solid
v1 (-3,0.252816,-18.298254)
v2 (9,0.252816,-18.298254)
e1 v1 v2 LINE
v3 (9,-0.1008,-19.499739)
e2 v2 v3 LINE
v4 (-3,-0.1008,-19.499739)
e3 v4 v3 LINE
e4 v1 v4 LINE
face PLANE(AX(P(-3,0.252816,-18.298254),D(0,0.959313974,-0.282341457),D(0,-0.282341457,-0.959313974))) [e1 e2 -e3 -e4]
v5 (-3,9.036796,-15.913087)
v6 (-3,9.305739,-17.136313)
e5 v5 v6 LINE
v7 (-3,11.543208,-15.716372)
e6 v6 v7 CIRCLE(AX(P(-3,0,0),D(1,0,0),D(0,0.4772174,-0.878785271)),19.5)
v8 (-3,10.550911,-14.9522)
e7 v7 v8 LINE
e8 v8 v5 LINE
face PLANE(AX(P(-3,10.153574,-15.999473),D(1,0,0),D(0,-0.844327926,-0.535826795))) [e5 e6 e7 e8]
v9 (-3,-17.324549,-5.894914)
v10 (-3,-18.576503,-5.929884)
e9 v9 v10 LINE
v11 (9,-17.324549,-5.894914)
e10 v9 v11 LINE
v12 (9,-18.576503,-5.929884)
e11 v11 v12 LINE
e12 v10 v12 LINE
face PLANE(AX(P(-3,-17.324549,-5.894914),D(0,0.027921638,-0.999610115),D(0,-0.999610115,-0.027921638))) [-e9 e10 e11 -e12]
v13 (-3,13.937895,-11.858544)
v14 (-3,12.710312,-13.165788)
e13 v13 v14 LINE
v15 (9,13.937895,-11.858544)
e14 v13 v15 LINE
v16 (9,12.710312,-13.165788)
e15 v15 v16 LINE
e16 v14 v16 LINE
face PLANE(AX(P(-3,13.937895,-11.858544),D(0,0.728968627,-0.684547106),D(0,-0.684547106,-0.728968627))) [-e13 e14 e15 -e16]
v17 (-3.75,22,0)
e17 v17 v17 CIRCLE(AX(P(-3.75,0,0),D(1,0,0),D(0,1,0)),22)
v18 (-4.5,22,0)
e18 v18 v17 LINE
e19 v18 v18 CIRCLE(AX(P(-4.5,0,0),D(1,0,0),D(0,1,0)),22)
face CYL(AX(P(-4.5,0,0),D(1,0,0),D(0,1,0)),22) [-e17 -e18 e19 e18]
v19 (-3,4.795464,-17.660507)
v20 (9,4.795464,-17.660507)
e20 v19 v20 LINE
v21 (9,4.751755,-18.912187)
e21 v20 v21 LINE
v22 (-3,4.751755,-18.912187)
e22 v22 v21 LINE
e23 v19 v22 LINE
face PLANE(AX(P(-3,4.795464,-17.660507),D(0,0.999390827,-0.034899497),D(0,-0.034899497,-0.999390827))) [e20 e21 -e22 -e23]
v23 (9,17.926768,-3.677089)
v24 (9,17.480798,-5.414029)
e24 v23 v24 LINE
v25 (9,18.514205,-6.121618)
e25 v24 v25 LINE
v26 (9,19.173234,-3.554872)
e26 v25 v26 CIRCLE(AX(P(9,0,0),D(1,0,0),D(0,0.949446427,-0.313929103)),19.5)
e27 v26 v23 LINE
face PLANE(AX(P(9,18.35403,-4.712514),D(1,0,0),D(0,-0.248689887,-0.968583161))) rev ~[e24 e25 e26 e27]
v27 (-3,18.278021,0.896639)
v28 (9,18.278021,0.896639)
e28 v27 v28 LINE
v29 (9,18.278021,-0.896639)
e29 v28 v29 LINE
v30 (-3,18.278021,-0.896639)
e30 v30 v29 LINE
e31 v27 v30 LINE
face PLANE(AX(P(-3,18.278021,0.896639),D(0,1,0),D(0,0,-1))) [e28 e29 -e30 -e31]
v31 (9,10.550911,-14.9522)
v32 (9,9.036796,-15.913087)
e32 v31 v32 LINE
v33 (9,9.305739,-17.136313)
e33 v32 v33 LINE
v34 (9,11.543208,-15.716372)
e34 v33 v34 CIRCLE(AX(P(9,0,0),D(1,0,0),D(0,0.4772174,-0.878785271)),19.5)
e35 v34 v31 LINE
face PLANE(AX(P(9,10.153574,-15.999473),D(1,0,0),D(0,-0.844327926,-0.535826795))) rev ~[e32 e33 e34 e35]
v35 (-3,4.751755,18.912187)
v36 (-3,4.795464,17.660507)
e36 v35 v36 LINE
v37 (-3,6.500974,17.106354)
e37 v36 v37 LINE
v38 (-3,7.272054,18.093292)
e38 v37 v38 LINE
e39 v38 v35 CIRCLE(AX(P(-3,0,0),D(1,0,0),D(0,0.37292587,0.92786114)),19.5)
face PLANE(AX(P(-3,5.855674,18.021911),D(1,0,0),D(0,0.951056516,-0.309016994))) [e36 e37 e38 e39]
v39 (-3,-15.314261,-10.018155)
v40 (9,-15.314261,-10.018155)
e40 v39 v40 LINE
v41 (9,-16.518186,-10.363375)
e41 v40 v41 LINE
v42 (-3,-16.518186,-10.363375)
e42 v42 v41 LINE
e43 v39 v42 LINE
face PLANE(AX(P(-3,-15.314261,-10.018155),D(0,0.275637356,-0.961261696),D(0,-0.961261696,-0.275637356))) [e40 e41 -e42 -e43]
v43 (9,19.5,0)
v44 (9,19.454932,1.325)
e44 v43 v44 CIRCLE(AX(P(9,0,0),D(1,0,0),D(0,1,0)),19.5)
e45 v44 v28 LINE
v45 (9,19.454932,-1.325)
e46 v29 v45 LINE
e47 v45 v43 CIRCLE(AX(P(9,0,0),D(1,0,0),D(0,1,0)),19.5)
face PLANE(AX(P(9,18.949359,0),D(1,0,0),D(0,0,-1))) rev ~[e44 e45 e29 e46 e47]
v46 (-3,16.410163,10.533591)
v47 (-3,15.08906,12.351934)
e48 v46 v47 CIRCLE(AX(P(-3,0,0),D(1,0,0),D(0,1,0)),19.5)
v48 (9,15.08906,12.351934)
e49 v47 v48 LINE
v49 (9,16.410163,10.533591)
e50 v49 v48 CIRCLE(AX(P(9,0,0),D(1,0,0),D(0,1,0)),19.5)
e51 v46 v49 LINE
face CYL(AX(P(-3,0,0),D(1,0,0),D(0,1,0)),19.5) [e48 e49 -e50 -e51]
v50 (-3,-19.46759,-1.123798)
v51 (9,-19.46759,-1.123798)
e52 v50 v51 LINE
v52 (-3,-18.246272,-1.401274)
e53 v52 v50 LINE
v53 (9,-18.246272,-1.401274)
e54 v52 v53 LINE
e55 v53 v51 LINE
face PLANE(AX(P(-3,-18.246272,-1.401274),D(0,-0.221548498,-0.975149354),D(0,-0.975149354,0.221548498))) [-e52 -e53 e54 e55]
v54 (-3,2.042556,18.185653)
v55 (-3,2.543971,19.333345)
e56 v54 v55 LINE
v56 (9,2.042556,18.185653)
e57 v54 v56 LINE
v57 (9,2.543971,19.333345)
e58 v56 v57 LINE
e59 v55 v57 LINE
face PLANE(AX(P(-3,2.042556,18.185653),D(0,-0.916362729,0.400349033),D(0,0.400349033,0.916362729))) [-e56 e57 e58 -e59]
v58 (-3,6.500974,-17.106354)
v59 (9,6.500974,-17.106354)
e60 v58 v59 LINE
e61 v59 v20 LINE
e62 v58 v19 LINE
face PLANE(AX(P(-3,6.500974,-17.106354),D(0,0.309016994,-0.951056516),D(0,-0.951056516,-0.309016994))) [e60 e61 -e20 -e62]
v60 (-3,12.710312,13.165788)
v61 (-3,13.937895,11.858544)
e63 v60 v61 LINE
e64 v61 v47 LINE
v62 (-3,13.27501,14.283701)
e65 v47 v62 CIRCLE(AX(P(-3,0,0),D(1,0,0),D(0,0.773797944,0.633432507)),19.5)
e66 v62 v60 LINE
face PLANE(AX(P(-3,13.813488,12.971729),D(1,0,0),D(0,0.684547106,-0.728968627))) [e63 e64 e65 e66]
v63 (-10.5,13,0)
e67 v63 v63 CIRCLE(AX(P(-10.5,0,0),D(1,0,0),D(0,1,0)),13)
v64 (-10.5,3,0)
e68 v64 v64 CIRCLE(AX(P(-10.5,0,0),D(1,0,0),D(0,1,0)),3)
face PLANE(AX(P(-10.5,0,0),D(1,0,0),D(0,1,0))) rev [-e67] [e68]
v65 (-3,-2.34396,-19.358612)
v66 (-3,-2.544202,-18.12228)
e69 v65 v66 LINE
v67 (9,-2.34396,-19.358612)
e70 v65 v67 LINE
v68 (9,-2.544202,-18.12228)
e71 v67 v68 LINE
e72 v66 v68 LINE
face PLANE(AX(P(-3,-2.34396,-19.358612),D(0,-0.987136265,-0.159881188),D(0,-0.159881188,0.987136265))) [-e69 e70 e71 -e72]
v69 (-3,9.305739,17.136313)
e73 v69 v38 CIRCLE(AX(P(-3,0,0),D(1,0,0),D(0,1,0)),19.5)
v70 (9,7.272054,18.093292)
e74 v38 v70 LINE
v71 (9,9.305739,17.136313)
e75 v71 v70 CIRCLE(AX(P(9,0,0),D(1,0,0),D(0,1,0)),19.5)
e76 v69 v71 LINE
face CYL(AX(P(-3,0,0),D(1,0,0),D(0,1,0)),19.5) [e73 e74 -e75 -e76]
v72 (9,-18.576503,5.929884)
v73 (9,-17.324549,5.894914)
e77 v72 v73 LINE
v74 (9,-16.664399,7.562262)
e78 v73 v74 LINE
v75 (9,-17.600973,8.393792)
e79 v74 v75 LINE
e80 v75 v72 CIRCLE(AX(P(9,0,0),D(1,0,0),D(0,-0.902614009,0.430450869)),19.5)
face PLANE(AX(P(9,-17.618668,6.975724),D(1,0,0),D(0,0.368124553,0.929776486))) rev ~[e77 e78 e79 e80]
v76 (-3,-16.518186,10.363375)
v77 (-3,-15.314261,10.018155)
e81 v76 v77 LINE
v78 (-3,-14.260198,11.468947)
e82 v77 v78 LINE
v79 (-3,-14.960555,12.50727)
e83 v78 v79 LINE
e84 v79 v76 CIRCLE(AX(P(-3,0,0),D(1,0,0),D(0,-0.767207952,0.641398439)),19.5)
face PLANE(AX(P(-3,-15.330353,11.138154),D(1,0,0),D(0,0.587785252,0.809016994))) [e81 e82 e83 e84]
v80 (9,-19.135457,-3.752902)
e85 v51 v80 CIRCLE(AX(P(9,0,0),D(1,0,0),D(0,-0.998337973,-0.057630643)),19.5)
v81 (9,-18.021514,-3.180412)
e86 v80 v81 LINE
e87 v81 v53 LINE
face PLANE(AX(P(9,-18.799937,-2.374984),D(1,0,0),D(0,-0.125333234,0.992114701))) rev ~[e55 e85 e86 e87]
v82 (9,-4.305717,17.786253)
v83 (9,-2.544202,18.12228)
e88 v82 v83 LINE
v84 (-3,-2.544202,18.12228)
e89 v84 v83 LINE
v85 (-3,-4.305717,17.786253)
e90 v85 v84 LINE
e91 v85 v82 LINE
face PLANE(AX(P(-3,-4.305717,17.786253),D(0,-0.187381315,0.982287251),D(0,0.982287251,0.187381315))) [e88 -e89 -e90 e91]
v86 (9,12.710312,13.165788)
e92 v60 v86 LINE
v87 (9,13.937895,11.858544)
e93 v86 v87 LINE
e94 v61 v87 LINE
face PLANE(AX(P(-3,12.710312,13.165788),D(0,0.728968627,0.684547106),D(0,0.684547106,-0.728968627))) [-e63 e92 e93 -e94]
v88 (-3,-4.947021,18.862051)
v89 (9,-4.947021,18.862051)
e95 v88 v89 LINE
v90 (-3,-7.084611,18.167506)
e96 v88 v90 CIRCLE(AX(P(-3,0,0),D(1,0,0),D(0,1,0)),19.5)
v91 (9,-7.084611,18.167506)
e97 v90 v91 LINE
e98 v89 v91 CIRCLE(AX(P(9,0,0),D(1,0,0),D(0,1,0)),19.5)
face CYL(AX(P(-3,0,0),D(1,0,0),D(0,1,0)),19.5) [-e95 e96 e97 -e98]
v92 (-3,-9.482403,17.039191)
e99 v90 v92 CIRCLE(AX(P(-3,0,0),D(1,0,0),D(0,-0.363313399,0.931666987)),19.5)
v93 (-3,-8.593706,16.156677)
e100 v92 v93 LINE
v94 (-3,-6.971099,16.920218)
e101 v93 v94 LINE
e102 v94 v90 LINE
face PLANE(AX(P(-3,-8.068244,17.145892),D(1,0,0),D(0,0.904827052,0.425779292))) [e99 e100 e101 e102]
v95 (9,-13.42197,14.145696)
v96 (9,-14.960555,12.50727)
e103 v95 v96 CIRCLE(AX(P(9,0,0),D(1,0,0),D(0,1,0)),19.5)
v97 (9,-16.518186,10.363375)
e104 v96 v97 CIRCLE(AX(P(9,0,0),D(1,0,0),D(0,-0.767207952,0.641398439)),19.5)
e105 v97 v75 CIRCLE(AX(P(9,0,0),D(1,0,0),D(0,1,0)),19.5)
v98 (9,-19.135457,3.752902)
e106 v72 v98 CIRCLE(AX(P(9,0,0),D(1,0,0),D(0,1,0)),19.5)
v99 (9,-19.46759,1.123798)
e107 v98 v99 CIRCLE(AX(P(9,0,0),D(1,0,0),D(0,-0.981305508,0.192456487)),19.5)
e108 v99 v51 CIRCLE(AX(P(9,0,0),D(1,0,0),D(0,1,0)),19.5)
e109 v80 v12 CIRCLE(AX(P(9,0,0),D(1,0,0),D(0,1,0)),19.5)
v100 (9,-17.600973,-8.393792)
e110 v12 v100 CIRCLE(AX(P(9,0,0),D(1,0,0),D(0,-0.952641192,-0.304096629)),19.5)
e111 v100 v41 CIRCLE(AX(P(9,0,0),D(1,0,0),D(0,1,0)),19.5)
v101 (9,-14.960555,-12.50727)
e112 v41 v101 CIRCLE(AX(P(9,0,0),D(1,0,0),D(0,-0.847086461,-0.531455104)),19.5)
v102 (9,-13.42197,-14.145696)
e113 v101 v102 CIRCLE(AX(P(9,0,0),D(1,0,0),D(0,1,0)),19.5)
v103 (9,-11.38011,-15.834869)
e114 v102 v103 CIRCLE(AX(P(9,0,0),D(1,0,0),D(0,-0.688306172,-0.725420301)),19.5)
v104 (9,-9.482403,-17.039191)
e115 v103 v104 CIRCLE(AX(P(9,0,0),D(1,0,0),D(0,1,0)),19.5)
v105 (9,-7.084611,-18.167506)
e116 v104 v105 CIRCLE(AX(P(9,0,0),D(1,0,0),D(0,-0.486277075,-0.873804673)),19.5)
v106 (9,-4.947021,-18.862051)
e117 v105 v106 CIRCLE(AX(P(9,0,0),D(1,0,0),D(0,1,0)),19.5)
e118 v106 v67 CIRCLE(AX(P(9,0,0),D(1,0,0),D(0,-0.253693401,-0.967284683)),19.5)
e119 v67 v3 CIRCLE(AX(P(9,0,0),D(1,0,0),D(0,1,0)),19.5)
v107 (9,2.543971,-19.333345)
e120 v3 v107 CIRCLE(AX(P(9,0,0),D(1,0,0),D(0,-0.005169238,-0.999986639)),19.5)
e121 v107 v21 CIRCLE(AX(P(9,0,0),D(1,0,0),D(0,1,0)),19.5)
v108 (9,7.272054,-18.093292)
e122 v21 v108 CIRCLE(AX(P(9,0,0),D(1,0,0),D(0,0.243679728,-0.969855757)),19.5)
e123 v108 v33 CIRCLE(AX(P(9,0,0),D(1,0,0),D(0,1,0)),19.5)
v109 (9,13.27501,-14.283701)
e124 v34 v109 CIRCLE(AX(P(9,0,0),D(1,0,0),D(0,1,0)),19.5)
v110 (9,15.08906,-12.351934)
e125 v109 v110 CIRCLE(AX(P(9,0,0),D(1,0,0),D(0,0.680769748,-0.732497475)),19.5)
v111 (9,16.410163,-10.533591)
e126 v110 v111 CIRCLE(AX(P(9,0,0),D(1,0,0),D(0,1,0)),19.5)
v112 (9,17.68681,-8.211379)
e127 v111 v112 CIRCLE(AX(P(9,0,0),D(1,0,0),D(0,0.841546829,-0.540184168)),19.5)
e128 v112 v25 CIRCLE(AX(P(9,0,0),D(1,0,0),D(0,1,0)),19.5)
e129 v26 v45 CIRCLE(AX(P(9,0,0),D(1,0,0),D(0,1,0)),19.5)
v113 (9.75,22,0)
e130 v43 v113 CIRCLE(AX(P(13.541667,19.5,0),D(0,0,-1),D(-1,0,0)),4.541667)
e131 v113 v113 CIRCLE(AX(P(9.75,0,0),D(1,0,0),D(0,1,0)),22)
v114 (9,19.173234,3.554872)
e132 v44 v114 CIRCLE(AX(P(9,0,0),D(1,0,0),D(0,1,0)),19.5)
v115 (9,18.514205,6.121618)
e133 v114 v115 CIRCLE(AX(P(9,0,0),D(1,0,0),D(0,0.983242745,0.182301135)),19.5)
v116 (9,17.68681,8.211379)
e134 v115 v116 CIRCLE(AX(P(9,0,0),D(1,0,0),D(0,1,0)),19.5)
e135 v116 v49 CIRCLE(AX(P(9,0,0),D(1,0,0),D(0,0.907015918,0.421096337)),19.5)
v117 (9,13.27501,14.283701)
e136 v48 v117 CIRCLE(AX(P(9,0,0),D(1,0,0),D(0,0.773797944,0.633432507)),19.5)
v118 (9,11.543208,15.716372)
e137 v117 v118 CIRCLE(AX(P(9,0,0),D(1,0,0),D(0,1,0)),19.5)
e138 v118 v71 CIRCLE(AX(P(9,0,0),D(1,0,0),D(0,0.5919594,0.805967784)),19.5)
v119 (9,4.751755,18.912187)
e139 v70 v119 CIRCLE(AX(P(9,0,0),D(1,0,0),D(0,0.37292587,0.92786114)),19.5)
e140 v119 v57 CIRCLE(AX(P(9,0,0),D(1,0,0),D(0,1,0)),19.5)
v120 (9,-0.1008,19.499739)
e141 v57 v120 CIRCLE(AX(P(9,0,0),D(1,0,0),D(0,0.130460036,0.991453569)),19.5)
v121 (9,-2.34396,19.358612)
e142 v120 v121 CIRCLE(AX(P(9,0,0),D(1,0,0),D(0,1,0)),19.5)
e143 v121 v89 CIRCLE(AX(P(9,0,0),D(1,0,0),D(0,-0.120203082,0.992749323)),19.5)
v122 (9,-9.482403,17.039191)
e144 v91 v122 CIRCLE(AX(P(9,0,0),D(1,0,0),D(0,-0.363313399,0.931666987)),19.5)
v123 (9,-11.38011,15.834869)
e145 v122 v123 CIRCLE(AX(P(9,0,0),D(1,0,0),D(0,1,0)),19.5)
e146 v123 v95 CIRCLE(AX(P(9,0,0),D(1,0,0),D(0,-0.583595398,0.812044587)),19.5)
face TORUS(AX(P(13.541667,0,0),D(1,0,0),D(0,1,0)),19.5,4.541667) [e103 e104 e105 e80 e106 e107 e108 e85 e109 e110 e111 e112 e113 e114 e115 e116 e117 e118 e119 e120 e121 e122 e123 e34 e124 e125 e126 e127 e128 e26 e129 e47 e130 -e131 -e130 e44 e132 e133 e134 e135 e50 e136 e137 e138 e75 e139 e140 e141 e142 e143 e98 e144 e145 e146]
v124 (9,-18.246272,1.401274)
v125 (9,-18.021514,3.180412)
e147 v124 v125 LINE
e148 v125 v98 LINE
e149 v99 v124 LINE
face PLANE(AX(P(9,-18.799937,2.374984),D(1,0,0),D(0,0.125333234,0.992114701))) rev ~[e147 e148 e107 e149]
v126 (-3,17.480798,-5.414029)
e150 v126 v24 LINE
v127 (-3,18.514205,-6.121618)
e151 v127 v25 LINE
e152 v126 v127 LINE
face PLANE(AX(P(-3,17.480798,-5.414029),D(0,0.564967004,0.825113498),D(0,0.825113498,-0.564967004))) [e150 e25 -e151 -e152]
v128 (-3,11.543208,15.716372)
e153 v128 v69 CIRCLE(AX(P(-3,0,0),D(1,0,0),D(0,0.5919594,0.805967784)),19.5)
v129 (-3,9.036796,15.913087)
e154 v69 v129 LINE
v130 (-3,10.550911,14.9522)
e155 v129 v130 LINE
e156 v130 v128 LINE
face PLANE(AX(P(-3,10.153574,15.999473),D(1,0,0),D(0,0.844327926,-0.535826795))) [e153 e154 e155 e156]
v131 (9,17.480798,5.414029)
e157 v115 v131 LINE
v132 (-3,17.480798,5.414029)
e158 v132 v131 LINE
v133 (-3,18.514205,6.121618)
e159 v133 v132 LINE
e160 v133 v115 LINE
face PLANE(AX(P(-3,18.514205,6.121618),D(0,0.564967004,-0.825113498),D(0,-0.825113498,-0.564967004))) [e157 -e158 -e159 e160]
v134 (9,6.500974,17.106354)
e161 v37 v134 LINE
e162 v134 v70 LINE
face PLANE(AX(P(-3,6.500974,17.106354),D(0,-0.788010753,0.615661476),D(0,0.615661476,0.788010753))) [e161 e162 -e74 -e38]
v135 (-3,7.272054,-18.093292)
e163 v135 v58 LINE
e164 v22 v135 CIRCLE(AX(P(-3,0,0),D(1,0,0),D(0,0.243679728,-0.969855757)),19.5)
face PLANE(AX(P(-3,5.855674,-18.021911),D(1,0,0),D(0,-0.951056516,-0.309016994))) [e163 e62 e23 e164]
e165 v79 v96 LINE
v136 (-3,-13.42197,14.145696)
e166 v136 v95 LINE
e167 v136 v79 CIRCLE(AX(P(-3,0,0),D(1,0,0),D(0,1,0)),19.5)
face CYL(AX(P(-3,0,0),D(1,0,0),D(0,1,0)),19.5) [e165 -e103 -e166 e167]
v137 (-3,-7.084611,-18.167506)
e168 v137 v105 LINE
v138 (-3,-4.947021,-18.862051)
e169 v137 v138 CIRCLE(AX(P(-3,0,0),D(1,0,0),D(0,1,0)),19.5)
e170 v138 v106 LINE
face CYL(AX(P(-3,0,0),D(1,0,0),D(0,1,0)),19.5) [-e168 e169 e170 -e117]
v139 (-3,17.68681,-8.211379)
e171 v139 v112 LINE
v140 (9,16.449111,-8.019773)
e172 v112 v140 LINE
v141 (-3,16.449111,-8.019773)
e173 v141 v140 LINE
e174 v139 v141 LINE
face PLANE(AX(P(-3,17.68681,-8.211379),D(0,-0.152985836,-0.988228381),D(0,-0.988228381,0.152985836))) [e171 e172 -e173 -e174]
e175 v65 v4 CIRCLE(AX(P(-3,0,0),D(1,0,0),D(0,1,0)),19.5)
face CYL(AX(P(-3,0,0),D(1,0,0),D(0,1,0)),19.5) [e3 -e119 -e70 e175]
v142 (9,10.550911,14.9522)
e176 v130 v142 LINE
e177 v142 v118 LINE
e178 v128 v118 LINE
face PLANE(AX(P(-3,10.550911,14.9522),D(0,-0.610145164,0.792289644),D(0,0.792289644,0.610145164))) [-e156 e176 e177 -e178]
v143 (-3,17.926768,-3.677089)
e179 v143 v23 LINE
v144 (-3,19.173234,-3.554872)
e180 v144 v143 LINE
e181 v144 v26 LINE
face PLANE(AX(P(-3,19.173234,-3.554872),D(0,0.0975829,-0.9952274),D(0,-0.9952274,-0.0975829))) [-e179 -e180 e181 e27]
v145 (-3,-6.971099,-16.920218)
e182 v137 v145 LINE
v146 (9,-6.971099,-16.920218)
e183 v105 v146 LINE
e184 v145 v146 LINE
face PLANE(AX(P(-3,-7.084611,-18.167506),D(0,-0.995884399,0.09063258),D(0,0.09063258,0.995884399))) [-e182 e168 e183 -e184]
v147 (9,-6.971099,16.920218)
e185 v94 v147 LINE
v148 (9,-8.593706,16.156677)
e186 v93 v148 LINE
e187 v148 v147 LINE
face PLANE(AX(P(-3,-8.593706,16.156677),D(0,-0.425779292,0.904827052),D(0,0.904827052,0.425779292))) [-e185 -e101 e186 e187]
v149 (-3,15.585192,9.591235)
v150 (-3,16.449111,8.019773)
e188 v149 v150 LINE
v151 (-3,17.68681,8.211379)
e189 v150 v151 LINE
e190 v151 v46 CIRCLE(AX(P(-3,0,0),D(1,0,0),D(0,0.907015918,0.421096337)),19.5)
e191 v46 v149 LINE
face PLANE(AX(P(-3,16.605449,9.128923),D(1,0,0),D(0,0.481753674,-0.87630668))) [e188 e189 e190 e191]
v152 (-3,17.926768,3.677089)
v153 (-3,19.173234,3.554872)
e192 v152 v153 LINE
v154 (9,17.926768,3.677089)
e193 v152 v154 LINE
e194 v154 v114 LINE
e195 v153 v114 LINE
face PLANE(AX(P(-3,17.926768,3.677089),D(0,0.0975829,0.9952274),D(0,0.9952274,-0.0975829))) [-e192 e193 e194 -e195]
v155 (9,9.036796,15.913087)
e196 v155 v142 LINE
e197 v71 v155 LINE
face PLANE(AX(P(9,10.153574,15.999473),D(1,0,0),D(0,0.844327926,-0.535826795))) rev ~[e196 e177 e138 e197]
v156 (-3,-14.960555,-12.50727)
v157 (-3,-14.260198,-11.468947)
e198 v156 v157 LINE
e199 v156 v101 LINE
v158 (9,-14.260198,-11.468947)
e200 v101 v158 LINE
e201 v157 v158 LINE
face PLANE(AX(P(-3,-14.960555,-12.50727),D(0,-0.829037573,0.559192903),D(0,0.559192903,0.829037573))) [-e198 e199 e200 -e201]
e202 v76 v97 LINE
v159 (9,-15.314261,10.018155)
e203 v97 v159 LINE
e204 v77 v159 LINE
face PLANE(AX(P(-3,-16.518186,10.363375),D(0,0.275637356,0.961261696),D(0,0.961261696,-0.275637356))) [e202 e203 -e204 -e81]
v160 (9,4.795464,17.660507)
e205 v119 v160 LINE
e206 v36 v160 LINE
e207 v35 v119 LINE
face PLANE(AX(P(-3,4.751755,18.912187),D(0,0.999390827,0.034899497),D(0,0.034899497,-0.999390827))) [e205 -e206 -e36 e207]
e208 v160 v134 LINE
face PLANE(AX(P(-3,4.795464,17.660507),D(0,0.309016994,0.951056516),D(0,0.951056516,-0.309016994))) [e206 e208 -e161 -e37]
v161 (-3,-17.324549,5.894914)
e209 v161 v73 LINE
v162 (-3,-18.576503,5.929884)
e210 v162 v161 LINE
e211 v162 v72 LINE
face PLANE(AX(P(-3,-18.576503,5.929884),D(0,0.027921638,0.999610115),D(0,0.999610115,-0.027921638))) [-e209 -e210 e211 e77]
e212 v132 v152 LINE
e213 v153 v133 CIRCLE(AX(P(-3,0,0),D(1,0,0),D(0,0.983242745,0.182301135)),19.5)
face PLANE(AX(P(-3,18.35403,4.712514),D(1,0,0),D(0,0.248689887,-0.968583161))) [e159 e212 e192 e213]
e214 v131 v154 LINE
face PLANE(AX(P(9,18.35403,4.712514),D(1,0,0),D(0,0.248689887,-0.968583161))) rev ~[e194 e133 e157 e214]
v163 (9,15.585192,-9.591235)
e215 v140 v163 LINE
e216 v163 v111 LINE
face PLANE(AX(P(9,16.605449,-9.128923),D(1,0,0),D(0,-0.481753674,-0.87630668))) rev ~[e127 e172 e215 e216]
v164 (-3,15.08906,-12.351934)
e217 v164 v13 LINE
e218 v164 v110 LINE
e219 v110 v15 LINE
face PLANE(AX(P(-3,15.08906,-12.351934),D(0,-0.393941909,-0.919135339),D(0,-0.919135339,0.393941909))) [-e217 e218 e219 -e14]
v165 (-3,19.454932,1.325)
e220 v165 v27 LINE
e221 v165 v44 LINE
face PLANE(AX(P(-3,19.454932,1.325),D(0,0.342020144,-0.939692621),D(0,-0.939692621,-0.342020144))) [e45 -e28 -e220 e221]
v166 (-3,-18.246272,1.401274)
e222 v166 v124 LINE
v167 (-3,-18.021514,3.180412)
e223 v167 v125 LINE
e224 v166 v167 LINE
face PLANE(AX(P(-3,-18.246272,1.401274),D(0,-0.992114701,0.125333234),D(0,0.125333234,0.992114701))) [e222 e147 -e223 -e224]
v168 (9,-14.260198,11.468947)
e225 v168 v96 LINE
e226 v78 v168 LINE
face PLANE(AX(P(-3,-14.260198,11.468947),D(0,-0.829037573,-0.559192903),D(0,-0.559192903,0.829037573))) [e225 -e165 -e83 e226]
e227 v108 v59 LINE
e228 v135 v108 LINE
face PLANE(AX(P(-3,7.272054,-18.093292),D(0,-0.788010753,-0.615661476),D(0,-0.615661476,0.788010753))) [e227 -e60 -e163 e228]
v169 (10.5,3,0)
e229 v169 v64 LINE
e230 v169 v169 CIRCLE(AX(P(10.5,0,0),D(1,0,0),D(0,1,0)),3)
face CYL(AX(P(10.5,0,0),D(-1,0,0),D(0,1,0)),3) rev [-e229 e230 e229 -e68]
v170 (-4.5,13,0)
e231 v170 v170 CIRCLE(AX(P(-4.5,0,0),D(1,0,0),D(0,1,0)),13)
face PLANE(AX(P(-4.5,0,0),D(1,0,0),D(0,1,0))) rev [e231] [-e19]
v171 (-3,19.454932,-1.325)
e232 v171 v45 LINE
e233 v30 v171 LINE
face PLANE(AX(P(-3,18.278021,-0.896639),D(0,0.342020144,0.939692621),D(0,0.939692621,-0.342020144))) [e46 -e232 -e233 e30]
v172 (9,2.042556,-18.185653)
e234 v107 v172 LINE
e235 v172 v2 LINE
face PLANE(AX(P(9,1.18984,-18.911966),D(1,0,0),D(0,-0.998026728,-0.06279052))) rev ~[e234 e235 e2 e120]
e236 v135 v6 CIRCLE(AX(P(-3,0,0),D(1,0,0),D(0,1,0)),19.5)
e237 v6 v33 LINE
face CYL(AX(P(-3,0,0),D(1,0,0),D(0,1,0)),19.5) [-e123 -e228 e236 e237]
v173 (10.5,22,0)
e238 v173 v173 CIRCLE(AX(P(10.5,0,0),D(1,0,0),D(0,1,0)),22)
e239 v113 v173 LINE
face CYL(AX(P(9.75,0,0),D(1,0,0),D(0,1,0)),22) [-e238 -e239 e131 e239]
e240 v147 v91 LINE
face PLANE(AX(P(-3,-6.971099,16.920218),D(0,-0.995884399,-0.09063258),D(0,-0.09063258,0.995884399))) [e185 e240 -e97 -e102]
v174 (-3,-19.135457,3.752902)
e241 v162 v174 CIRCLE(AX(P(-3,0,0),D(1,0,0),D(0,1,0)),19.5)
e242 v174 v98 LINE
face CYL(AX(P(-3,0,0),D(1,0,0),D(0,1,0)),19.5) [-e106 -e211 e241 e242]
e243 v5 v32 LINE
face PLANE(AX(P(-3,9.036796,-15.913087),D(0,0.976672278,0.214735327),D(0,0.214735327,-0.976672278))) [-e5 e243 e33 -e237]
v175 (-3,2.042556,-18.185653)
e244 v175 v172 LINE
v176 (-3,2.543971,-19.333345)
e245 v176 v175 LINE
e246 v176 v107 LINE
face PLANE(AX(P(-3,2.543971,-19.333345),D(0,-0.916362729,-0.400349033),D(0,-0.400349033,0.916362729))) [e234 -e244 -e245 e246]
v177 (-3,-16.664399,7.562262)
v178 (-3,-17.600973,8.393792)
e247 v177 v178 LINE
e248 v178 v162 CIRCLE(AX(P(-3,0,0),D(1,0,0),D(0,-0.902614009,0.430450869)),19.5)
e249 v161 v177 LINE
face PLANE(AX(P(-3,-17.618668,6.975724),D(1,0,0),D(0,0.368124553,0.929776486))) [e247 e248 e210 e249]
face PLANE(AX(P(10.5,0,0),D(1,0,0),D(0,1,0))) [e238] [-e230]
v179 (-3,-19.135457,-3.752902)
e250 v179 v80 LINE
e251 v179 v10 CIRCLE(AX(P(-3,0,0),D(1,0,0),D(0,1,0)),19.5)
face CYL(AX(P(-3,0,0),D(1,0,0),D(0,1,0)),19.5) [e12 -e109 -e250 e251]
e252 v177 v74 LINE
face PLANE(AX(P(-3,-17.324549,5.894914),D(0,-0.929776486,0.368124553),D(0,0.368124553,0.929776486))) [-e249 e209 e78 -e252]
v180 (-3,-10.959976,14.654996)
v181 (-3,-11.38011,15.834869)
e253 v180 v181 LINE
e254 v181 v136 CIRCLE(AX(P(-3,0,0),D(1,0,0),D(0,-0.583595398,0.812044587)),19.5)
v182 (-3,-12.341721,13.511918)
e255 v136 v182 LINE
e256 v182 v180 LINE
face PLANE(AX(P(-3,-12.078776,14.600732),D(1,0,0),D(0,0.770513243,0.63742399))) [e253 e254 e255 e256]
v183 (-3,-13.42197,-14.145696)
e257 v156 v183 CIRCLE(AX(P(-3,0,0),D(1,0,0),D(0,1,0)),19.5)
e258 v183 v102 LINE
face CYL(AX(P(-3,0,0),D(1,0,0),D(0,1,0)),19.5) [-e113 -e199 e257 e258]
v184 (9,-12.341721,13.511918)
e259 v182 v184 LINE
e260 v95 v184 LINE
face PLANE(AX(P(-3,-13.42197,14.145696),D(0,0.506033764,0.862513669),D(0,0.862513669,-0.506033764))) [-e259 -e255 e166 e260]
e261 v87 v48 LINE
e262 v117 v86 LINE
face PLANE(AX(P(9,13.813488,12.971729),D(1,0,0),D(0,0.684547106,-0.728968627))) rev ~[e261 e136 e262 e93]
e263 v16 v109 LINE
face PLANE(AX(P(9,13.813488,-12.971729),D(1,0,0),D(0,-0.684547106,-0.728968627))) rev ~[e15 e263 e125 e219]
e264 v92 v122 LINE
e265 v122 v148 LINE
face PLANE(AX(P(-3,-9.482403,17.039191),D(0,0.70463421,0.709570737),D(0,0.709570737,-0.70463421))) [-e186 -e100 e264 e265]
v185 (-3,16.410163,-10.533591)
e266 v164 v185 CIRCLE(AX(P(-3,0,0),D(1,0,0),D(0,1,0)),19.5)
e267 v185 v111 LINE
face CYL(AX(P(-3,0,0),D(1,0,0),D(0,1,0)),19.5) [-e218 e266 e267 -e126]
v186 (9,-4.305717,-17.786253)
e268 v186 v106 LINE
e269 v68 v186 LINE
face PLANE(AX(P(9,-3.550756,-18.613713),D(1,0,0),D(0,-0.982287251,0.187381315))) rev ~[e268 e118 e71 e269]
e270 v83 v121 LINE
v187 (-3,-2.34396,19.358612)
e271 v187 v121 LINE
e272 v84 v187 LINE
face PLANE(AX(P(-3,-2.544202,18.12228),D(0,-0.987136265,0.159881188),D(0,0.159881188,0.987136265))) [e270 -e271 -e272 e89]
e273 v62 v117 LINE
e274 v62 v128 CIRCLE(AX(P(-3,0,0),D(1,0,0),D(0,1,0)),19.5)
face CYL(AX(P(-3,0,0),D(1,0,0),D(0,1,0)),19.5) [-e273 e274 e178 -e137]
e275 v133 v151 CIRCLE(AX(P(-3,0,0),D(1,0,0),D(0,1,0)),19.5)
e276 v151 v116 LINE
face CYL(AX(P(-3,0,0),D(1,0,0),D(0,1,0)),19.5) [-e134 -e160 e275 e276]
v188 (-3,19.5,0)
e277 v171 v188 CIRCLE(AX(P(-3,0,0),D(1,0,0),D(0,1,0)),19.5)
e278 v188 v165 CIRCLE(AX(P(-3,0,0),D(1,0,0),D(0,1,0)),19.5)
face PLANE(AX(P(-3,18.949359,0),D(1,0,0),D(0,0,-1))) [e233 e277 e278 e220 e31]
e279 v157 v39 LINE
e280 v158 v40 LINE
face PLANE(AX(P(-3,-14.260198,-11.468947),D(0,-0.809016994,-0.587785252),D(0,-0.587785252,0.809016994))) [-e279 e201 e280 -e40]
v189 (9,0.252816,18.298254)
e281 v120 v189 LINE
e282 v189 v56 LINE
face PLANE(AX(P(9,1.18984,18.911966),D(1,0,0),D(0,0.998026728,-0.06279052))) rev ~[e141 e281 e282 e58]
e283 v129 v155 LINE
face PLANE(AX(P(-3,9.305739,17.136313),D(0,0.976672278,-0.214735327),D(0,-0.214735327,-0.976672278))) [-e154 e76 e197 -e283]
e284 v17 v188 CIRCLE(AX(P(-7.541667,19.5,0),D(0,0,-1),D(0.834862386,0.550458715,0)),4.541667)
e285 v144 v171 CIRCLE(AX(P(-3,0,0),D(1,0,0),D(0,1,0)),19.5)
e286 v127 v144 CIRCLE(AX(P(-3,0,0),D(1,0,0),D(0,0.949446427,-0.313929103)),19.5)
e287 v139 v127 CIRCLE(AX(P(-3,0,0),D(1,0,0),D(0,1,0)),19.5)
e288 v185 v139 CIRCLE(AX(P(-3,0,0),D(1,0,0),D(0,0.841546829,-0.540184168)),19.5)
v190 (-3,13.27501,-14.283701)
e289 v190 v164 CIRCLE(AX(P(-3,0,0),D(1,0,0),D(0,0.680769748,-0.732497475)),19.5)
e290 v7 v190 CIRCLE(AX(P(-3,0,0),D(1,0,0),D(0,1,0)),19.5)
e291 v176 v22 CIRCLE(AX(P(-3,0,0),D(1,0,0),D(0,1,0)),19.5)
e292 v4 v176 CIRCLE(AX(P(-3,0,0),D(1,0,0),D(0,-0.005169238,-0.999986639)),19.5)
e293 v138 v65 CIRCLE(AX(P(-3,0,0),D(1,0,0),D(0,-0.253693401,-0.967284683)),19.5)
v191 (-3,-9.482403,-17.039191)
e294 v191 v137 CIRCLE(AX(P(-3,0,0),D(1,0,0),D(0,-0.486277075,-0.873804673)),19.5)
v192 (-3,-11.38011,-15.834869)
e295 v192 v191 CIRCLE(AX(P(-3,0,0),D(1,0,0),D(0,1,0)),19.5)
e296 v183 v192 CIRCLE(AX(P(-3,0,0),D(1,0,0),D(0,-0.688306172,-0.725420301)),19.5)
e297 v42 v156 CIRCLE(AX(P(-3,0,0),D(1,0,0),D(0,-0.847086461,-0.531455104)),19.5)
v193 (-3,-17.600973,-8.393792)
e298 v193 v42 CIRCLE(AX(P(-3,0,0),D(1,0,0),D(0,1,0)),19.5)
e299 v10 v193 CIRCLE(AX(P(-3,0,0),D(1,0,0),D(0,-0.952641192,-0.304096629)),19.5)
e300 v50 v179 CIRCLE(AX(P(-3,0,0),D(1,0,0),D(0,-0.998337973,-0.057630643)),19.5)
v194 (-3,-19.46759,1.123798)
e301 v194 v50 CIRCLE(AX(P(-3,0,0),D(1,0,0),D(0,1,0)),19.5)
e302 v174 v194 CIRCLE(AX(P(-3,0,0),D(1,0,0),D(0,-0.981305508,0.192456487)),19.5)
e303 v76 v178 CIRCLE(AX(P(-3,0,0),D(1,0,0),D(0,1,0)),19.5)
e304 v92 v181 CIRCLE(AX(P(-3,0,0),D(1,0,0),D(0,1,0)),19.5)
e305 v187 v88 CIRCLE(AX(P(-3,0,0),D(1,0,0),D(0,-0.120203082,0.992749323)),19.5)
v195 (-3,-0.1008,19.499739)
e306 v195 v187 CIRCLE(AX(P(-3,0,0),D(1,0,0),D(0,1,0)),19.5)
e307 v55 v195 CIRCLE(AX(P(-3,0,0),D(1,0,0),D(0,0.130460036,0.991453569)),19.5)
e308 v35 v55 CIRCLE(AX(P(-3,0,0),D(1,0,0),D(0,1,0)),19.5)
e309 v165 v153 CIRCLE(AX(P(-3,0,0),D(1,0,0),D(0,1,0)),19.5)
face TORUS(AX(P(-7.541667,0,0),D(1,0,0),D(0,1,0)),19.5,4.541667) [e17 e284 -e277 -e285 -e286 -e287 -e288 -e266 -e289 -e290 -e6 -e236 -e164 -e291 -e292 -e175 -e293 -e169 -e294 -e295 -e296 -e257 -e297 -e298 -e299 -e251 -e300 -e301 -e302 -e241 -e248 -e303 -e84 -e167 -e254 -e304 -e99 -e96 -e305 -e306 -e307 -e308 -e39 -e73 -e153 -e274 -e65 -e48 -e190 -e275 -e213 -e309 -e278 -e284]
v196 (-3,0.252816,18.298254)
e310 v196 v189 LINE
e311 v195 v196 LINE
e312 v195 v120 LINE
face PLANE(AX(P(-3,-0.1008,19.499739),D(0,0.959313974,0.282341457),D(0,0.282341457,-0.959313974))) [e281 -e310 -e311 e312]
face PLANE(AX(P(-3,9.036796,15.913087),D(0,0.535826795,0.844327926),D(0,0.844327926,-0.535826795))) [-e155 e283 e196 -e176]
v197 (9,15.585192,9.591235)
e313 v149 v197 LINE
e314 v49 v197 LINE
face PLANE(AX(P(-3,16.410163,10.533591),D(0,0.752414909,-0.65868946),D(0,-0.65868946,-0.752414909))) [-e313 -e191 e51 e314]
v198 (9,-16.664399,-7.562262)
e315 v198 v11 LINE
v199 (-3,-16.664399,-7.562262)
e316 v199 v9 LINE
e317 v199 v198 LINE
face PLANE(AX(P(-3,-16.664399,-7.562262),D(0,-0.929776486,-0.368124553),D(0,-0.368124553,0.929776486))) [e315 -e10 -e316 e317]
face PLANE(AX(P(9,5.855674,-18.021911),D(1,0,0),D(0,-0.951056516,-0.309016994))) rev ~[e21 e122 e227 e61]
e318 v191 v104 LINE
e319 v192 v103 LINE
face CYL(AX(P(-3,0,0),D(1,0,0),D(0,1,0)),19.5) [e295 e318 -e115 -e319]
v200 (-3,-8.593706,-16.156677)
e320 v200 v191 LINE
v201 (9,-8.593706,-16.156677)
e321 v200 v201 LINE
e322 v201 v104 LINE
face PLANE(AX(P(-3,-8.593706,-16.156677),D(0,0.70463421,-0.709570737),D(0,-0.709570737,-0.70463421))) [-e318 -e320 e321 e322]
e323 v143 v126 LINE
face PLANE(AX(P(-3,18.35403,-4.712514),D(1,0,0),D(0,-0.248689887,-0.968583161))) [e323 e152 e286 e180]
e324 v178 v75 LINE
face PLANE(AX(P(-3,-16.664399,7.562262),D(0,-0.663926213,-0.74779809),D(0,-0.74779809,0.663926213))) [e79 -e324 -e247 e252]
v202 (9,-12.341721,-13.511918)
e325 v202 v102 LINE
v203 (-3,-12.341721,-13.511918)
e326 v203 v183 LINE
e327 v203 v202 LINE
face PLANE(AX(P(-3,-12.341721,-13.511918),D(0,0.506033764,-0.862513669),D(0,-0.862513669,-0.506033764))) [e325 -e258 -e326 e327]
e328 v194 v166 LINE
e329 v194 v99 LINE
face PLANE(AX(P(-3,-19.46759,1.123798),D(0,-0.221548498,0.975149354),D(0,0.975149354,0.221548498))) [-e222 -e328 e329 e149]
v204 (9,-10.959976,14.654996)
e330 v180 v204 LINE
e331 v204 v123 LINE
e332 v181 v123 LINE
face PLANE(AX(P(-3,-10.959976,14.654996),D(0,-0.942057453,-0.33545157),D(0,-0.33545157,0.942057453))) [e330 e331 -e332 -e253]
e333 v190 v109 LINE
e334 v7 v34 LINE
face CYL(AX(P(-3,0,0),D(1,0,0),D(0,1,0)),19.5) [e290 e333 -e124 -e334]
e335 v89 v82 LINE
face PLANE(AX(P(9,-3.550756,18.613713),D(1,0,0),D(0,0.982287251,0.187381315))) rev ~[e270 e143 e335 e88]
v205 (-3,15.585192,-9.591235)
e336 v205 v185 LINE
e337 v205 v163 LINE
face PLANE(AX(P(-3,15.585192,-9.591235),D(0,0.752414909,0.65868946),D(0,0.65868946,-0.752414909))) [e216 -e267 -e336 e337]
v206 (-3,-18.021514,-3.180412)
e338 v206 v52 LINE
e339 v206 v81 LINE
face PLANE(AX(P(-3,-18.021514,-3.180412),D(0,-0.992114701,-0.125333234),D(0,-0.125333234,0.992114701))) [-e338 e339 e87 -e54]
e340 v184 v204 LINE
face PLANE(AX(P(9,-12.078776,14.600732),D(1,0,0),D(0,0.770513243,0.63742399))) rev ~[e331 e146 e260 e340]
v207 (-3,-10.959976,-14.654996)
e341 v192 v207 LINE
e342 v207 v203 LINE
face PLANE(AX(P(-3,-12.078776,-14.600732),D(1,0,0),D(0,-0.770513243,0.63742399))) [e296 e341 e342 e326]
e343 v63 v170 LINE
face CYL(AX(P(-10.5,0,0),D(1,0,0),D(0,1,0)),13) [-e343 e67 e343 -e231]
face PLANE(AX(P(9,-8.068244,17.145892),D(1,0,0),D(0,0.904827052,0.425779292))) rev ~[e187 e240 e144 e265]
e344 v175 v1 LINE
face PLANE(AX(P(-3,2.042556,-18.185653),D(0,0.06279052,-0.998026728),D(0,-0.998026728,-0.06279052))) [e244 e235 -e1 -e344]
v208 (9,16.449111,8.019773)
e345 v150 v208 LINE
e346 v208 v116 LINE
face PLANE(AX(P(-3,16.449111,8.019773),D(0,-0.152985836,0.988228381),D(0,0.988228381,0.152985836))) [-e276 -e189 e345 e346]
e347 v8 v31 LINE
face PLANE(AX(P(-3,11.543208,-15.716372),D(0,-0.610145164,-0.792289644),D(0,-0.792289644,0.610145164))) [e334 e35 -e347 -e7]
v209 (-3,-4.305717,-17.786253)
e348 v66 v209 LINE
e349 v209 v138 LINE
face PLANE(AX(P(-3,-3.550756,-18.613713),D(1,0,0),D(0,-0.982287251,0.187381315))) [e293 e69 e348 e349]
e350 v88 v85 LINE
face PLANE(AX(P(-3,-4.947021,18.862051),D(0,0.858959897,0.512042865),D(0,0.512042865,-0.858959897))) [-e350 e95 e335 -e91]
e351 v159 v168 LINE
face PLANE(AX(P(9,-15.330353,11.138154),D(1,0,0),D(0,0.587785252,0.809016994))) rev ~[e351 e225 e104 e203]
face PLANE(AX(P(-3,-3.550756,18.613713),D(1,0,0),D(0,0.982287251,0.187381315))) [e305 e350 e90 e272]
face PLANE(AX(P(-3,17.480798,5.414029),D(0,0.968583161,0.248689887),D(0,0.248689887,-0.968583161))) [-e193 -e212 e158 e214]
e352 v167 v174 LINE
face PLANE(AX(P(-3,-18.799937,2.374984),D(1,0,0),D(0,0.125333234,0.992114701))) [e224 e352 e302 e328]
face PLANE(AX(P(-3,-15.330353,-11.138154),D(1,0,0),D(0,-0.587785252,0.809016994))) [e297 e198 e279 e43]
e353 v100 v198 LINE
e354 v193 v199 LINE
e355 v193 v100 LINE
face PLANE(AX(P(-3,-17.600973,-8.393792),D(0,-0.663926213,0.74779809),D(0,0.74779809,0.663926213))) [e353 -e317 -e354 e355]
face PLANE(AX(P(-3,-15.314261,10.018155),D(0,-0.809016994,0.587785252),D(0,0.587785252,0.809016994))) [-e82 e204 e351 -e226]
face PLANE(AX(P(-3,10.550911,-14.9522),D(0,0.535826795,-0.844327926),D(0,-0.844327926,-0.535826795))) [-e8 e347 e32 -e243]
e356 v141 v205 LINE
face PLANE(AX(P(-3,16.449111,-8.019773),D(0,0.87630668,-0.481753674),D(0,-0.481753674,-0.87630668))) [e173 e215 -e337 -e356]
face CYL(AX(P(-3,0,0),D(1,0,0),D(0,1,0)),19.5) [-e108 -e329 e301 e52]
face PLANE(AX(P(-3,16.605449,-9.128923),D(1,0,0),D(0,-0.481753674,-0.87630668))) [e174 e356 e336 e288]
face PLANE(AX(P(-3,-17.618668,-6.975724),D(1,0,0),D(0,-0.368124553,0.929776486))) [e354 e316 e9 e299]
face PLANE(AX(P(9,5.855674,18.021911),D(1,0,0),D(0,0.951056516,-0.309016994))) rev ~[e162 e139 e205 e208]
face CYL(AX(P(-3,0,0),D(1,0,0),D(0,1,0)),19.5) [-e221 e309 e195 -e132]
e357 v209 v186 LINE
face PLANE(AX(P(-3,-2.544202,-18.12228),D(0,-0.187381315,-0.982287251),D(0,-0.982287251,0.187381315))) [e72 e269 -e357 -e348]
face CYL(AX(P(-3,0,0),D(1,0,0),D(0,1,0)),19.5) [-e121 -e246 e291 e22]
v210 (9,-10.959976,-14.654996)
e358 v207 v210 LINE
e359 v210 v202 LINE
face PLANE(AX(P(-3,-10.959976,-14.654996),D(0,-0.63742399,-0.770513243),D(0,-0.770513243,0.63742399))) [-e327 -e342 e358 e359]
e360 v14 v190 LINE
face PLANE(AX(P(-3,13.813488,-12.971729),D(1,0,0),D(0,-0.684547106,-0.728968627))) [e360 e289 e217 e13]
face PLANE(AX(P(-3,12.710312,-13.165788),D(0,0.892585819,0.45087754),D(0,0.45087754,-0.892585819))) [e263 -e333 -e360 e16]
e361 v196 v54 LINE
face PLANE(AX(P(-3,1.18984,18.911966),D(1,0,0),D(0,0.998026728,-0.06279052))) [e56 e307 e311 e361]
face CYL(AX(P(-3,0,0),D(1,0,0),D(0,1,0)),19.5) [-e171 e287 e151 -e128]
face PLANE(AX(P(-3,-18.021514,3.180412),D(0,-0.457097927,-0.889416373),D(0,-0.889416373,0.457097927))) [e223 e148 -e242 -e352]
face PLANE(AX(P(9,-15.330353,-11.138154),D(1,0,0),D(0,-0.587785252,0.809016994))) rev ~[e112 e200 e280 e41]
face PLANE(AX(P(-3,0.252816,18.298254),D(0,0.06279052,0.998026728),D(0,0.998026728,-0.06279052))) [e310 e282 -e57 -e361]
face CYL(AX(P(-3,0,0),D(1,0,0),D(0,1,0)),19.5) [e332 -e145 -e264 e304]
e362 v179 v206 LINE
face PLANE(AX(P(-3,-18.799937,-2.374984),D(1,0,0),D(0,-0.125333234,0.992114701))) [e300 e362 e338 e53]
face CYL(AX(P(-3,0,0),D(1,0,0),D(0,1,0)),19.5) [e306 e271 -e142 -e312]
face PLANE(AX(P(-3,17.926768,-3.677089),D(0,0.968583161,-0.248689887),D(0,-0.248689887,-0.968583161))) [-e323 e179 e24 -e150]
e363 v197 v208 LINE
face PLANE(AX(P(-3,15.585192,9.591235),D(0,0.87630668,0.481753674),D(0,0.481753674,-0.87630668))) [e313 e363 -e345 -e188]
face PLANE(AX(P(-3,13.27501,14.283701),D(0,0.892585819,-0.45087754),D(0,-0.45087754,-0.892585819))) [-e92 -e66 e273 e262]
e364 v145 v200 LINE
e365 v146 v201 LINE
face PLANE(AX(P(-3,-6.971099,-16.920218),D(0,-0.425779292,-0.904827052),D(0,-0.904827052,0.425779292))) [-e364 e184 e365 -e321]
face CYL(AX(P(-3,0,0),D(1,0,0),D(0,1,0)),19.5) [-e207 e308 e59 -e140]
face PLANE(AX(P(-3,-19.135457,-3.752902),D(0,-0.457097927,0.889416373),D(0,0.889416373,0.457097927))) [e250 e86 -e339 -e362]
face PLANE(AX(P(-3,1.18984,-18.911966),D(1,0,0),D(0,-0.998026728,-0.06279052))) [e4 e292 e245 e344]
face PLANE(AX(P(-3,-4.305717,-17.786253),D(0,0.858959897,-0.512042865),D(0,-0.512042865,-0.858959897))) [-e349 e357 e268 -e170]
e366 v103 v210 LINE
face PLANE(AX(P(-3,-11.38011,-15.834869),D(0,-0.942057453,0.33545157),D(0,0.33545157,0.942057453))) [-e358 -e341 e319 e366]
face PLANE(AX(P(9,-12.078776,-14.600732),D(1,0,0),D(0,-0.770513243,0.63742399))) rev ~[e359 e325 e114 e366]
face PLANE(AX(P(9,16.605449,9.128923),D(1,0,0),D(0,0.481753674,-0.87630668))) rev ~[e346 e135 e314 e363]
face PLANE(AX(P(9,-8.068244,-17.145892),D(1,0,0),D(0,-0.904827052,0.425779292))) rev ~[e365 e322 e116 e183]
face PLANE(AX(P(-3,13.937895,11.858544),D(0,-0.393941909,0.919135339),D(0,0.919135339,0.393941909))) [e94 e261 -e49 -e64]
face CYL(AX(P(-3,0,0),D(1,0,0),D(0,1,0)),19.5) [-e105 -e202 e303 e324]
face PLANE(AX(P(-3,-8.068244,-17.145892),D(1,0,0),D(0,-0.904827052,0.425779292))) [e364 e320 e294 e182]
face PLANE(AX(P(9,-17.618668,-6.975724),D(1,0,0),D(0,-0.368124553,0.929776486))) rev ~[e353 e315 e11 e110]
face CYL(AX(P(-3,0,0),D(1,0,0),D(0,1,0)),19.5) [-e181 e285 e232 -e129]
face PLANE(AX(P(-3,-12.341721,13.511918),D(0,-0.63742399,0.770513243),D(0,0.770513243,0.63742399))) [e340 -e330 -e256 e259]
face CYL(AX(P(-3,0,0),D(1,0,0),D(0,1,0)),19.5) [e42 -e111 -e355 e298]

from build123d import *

# Parameters (mm, degrees)
CUT_EXTRUDE1_START = -3
CUT_EXTRUDE1_DEPTH = 12
CIRPATTERN1_COUNT  = 25


with BuildPart() as part:
    # Sketch6 → Revolve1 (revolve)
    with BuildSketch(Plane.XY):
        with BuildLine():
            Line((9.75, 22), (10.5, 22))
            Line((10.5, 22), (10.5, 3))
            Line((10.5, 3), (-10.5, 3))
            Line((-10.5, 3), (-10.5, 13))
            Line((-10.5, 13), (-4.5, 13))
            Line((-4.5, 13), (-4.5, 22))
            Line((-4.5, 22), (-3.75, 22))
            ThreePointArc((-3.75, 22), (-3.191538955, 20.805038314), (-3, 19.5))
            Line((-3, 19.5), (9, 19.5))
            ThreePointArc((9, 19.5), (9.191538955, 20.805038314), (9.75, 22))
        make_face()
    revolve(axis=Axis((-10.5, 0, 0), (1, 0, 0)))

    # Sketch3 → Cut-Extrude1 (cut)
    with BuildSketch(Plane(origin=(0, 0, 0), x_dir=(0, 0, -1), z_dir=(1, 0, 0)).offset(CUT_EXTRUDE1_START)):
        with BuildLine():
            Line((-1.325, 19.454931894), (-0.896639329, 18.278020624))
            Line((-0.896639329, 18.278020624), (0.896639329, 18.278020624))
            Line((0.896639329, 18.278020624), (1.325, 19.454931894))
            ThreePointArc((1.325, 19.454931894), (0, 19.5), (-1.325, 19.454931894))
        make_face()
    cut_extrude1 = extrude(amount=CUT_EXTRUDE1_DEPTH, mode=Mode.SUBTRACT)

    # CirPattern1: Cut-Extrude1 ×25 about axis
    cirpattern1_axis = Axis((0, 0, 0), (1, 0, 0))
    for i in range(1, CIRPATTERN1_COUNT):
        add(cut_extrude1.rotate(cirpattern1_axis, i * 360 / CIRPATTERN1_COUNT), mode=Mode.SUBTRACT)


solid = part.part
